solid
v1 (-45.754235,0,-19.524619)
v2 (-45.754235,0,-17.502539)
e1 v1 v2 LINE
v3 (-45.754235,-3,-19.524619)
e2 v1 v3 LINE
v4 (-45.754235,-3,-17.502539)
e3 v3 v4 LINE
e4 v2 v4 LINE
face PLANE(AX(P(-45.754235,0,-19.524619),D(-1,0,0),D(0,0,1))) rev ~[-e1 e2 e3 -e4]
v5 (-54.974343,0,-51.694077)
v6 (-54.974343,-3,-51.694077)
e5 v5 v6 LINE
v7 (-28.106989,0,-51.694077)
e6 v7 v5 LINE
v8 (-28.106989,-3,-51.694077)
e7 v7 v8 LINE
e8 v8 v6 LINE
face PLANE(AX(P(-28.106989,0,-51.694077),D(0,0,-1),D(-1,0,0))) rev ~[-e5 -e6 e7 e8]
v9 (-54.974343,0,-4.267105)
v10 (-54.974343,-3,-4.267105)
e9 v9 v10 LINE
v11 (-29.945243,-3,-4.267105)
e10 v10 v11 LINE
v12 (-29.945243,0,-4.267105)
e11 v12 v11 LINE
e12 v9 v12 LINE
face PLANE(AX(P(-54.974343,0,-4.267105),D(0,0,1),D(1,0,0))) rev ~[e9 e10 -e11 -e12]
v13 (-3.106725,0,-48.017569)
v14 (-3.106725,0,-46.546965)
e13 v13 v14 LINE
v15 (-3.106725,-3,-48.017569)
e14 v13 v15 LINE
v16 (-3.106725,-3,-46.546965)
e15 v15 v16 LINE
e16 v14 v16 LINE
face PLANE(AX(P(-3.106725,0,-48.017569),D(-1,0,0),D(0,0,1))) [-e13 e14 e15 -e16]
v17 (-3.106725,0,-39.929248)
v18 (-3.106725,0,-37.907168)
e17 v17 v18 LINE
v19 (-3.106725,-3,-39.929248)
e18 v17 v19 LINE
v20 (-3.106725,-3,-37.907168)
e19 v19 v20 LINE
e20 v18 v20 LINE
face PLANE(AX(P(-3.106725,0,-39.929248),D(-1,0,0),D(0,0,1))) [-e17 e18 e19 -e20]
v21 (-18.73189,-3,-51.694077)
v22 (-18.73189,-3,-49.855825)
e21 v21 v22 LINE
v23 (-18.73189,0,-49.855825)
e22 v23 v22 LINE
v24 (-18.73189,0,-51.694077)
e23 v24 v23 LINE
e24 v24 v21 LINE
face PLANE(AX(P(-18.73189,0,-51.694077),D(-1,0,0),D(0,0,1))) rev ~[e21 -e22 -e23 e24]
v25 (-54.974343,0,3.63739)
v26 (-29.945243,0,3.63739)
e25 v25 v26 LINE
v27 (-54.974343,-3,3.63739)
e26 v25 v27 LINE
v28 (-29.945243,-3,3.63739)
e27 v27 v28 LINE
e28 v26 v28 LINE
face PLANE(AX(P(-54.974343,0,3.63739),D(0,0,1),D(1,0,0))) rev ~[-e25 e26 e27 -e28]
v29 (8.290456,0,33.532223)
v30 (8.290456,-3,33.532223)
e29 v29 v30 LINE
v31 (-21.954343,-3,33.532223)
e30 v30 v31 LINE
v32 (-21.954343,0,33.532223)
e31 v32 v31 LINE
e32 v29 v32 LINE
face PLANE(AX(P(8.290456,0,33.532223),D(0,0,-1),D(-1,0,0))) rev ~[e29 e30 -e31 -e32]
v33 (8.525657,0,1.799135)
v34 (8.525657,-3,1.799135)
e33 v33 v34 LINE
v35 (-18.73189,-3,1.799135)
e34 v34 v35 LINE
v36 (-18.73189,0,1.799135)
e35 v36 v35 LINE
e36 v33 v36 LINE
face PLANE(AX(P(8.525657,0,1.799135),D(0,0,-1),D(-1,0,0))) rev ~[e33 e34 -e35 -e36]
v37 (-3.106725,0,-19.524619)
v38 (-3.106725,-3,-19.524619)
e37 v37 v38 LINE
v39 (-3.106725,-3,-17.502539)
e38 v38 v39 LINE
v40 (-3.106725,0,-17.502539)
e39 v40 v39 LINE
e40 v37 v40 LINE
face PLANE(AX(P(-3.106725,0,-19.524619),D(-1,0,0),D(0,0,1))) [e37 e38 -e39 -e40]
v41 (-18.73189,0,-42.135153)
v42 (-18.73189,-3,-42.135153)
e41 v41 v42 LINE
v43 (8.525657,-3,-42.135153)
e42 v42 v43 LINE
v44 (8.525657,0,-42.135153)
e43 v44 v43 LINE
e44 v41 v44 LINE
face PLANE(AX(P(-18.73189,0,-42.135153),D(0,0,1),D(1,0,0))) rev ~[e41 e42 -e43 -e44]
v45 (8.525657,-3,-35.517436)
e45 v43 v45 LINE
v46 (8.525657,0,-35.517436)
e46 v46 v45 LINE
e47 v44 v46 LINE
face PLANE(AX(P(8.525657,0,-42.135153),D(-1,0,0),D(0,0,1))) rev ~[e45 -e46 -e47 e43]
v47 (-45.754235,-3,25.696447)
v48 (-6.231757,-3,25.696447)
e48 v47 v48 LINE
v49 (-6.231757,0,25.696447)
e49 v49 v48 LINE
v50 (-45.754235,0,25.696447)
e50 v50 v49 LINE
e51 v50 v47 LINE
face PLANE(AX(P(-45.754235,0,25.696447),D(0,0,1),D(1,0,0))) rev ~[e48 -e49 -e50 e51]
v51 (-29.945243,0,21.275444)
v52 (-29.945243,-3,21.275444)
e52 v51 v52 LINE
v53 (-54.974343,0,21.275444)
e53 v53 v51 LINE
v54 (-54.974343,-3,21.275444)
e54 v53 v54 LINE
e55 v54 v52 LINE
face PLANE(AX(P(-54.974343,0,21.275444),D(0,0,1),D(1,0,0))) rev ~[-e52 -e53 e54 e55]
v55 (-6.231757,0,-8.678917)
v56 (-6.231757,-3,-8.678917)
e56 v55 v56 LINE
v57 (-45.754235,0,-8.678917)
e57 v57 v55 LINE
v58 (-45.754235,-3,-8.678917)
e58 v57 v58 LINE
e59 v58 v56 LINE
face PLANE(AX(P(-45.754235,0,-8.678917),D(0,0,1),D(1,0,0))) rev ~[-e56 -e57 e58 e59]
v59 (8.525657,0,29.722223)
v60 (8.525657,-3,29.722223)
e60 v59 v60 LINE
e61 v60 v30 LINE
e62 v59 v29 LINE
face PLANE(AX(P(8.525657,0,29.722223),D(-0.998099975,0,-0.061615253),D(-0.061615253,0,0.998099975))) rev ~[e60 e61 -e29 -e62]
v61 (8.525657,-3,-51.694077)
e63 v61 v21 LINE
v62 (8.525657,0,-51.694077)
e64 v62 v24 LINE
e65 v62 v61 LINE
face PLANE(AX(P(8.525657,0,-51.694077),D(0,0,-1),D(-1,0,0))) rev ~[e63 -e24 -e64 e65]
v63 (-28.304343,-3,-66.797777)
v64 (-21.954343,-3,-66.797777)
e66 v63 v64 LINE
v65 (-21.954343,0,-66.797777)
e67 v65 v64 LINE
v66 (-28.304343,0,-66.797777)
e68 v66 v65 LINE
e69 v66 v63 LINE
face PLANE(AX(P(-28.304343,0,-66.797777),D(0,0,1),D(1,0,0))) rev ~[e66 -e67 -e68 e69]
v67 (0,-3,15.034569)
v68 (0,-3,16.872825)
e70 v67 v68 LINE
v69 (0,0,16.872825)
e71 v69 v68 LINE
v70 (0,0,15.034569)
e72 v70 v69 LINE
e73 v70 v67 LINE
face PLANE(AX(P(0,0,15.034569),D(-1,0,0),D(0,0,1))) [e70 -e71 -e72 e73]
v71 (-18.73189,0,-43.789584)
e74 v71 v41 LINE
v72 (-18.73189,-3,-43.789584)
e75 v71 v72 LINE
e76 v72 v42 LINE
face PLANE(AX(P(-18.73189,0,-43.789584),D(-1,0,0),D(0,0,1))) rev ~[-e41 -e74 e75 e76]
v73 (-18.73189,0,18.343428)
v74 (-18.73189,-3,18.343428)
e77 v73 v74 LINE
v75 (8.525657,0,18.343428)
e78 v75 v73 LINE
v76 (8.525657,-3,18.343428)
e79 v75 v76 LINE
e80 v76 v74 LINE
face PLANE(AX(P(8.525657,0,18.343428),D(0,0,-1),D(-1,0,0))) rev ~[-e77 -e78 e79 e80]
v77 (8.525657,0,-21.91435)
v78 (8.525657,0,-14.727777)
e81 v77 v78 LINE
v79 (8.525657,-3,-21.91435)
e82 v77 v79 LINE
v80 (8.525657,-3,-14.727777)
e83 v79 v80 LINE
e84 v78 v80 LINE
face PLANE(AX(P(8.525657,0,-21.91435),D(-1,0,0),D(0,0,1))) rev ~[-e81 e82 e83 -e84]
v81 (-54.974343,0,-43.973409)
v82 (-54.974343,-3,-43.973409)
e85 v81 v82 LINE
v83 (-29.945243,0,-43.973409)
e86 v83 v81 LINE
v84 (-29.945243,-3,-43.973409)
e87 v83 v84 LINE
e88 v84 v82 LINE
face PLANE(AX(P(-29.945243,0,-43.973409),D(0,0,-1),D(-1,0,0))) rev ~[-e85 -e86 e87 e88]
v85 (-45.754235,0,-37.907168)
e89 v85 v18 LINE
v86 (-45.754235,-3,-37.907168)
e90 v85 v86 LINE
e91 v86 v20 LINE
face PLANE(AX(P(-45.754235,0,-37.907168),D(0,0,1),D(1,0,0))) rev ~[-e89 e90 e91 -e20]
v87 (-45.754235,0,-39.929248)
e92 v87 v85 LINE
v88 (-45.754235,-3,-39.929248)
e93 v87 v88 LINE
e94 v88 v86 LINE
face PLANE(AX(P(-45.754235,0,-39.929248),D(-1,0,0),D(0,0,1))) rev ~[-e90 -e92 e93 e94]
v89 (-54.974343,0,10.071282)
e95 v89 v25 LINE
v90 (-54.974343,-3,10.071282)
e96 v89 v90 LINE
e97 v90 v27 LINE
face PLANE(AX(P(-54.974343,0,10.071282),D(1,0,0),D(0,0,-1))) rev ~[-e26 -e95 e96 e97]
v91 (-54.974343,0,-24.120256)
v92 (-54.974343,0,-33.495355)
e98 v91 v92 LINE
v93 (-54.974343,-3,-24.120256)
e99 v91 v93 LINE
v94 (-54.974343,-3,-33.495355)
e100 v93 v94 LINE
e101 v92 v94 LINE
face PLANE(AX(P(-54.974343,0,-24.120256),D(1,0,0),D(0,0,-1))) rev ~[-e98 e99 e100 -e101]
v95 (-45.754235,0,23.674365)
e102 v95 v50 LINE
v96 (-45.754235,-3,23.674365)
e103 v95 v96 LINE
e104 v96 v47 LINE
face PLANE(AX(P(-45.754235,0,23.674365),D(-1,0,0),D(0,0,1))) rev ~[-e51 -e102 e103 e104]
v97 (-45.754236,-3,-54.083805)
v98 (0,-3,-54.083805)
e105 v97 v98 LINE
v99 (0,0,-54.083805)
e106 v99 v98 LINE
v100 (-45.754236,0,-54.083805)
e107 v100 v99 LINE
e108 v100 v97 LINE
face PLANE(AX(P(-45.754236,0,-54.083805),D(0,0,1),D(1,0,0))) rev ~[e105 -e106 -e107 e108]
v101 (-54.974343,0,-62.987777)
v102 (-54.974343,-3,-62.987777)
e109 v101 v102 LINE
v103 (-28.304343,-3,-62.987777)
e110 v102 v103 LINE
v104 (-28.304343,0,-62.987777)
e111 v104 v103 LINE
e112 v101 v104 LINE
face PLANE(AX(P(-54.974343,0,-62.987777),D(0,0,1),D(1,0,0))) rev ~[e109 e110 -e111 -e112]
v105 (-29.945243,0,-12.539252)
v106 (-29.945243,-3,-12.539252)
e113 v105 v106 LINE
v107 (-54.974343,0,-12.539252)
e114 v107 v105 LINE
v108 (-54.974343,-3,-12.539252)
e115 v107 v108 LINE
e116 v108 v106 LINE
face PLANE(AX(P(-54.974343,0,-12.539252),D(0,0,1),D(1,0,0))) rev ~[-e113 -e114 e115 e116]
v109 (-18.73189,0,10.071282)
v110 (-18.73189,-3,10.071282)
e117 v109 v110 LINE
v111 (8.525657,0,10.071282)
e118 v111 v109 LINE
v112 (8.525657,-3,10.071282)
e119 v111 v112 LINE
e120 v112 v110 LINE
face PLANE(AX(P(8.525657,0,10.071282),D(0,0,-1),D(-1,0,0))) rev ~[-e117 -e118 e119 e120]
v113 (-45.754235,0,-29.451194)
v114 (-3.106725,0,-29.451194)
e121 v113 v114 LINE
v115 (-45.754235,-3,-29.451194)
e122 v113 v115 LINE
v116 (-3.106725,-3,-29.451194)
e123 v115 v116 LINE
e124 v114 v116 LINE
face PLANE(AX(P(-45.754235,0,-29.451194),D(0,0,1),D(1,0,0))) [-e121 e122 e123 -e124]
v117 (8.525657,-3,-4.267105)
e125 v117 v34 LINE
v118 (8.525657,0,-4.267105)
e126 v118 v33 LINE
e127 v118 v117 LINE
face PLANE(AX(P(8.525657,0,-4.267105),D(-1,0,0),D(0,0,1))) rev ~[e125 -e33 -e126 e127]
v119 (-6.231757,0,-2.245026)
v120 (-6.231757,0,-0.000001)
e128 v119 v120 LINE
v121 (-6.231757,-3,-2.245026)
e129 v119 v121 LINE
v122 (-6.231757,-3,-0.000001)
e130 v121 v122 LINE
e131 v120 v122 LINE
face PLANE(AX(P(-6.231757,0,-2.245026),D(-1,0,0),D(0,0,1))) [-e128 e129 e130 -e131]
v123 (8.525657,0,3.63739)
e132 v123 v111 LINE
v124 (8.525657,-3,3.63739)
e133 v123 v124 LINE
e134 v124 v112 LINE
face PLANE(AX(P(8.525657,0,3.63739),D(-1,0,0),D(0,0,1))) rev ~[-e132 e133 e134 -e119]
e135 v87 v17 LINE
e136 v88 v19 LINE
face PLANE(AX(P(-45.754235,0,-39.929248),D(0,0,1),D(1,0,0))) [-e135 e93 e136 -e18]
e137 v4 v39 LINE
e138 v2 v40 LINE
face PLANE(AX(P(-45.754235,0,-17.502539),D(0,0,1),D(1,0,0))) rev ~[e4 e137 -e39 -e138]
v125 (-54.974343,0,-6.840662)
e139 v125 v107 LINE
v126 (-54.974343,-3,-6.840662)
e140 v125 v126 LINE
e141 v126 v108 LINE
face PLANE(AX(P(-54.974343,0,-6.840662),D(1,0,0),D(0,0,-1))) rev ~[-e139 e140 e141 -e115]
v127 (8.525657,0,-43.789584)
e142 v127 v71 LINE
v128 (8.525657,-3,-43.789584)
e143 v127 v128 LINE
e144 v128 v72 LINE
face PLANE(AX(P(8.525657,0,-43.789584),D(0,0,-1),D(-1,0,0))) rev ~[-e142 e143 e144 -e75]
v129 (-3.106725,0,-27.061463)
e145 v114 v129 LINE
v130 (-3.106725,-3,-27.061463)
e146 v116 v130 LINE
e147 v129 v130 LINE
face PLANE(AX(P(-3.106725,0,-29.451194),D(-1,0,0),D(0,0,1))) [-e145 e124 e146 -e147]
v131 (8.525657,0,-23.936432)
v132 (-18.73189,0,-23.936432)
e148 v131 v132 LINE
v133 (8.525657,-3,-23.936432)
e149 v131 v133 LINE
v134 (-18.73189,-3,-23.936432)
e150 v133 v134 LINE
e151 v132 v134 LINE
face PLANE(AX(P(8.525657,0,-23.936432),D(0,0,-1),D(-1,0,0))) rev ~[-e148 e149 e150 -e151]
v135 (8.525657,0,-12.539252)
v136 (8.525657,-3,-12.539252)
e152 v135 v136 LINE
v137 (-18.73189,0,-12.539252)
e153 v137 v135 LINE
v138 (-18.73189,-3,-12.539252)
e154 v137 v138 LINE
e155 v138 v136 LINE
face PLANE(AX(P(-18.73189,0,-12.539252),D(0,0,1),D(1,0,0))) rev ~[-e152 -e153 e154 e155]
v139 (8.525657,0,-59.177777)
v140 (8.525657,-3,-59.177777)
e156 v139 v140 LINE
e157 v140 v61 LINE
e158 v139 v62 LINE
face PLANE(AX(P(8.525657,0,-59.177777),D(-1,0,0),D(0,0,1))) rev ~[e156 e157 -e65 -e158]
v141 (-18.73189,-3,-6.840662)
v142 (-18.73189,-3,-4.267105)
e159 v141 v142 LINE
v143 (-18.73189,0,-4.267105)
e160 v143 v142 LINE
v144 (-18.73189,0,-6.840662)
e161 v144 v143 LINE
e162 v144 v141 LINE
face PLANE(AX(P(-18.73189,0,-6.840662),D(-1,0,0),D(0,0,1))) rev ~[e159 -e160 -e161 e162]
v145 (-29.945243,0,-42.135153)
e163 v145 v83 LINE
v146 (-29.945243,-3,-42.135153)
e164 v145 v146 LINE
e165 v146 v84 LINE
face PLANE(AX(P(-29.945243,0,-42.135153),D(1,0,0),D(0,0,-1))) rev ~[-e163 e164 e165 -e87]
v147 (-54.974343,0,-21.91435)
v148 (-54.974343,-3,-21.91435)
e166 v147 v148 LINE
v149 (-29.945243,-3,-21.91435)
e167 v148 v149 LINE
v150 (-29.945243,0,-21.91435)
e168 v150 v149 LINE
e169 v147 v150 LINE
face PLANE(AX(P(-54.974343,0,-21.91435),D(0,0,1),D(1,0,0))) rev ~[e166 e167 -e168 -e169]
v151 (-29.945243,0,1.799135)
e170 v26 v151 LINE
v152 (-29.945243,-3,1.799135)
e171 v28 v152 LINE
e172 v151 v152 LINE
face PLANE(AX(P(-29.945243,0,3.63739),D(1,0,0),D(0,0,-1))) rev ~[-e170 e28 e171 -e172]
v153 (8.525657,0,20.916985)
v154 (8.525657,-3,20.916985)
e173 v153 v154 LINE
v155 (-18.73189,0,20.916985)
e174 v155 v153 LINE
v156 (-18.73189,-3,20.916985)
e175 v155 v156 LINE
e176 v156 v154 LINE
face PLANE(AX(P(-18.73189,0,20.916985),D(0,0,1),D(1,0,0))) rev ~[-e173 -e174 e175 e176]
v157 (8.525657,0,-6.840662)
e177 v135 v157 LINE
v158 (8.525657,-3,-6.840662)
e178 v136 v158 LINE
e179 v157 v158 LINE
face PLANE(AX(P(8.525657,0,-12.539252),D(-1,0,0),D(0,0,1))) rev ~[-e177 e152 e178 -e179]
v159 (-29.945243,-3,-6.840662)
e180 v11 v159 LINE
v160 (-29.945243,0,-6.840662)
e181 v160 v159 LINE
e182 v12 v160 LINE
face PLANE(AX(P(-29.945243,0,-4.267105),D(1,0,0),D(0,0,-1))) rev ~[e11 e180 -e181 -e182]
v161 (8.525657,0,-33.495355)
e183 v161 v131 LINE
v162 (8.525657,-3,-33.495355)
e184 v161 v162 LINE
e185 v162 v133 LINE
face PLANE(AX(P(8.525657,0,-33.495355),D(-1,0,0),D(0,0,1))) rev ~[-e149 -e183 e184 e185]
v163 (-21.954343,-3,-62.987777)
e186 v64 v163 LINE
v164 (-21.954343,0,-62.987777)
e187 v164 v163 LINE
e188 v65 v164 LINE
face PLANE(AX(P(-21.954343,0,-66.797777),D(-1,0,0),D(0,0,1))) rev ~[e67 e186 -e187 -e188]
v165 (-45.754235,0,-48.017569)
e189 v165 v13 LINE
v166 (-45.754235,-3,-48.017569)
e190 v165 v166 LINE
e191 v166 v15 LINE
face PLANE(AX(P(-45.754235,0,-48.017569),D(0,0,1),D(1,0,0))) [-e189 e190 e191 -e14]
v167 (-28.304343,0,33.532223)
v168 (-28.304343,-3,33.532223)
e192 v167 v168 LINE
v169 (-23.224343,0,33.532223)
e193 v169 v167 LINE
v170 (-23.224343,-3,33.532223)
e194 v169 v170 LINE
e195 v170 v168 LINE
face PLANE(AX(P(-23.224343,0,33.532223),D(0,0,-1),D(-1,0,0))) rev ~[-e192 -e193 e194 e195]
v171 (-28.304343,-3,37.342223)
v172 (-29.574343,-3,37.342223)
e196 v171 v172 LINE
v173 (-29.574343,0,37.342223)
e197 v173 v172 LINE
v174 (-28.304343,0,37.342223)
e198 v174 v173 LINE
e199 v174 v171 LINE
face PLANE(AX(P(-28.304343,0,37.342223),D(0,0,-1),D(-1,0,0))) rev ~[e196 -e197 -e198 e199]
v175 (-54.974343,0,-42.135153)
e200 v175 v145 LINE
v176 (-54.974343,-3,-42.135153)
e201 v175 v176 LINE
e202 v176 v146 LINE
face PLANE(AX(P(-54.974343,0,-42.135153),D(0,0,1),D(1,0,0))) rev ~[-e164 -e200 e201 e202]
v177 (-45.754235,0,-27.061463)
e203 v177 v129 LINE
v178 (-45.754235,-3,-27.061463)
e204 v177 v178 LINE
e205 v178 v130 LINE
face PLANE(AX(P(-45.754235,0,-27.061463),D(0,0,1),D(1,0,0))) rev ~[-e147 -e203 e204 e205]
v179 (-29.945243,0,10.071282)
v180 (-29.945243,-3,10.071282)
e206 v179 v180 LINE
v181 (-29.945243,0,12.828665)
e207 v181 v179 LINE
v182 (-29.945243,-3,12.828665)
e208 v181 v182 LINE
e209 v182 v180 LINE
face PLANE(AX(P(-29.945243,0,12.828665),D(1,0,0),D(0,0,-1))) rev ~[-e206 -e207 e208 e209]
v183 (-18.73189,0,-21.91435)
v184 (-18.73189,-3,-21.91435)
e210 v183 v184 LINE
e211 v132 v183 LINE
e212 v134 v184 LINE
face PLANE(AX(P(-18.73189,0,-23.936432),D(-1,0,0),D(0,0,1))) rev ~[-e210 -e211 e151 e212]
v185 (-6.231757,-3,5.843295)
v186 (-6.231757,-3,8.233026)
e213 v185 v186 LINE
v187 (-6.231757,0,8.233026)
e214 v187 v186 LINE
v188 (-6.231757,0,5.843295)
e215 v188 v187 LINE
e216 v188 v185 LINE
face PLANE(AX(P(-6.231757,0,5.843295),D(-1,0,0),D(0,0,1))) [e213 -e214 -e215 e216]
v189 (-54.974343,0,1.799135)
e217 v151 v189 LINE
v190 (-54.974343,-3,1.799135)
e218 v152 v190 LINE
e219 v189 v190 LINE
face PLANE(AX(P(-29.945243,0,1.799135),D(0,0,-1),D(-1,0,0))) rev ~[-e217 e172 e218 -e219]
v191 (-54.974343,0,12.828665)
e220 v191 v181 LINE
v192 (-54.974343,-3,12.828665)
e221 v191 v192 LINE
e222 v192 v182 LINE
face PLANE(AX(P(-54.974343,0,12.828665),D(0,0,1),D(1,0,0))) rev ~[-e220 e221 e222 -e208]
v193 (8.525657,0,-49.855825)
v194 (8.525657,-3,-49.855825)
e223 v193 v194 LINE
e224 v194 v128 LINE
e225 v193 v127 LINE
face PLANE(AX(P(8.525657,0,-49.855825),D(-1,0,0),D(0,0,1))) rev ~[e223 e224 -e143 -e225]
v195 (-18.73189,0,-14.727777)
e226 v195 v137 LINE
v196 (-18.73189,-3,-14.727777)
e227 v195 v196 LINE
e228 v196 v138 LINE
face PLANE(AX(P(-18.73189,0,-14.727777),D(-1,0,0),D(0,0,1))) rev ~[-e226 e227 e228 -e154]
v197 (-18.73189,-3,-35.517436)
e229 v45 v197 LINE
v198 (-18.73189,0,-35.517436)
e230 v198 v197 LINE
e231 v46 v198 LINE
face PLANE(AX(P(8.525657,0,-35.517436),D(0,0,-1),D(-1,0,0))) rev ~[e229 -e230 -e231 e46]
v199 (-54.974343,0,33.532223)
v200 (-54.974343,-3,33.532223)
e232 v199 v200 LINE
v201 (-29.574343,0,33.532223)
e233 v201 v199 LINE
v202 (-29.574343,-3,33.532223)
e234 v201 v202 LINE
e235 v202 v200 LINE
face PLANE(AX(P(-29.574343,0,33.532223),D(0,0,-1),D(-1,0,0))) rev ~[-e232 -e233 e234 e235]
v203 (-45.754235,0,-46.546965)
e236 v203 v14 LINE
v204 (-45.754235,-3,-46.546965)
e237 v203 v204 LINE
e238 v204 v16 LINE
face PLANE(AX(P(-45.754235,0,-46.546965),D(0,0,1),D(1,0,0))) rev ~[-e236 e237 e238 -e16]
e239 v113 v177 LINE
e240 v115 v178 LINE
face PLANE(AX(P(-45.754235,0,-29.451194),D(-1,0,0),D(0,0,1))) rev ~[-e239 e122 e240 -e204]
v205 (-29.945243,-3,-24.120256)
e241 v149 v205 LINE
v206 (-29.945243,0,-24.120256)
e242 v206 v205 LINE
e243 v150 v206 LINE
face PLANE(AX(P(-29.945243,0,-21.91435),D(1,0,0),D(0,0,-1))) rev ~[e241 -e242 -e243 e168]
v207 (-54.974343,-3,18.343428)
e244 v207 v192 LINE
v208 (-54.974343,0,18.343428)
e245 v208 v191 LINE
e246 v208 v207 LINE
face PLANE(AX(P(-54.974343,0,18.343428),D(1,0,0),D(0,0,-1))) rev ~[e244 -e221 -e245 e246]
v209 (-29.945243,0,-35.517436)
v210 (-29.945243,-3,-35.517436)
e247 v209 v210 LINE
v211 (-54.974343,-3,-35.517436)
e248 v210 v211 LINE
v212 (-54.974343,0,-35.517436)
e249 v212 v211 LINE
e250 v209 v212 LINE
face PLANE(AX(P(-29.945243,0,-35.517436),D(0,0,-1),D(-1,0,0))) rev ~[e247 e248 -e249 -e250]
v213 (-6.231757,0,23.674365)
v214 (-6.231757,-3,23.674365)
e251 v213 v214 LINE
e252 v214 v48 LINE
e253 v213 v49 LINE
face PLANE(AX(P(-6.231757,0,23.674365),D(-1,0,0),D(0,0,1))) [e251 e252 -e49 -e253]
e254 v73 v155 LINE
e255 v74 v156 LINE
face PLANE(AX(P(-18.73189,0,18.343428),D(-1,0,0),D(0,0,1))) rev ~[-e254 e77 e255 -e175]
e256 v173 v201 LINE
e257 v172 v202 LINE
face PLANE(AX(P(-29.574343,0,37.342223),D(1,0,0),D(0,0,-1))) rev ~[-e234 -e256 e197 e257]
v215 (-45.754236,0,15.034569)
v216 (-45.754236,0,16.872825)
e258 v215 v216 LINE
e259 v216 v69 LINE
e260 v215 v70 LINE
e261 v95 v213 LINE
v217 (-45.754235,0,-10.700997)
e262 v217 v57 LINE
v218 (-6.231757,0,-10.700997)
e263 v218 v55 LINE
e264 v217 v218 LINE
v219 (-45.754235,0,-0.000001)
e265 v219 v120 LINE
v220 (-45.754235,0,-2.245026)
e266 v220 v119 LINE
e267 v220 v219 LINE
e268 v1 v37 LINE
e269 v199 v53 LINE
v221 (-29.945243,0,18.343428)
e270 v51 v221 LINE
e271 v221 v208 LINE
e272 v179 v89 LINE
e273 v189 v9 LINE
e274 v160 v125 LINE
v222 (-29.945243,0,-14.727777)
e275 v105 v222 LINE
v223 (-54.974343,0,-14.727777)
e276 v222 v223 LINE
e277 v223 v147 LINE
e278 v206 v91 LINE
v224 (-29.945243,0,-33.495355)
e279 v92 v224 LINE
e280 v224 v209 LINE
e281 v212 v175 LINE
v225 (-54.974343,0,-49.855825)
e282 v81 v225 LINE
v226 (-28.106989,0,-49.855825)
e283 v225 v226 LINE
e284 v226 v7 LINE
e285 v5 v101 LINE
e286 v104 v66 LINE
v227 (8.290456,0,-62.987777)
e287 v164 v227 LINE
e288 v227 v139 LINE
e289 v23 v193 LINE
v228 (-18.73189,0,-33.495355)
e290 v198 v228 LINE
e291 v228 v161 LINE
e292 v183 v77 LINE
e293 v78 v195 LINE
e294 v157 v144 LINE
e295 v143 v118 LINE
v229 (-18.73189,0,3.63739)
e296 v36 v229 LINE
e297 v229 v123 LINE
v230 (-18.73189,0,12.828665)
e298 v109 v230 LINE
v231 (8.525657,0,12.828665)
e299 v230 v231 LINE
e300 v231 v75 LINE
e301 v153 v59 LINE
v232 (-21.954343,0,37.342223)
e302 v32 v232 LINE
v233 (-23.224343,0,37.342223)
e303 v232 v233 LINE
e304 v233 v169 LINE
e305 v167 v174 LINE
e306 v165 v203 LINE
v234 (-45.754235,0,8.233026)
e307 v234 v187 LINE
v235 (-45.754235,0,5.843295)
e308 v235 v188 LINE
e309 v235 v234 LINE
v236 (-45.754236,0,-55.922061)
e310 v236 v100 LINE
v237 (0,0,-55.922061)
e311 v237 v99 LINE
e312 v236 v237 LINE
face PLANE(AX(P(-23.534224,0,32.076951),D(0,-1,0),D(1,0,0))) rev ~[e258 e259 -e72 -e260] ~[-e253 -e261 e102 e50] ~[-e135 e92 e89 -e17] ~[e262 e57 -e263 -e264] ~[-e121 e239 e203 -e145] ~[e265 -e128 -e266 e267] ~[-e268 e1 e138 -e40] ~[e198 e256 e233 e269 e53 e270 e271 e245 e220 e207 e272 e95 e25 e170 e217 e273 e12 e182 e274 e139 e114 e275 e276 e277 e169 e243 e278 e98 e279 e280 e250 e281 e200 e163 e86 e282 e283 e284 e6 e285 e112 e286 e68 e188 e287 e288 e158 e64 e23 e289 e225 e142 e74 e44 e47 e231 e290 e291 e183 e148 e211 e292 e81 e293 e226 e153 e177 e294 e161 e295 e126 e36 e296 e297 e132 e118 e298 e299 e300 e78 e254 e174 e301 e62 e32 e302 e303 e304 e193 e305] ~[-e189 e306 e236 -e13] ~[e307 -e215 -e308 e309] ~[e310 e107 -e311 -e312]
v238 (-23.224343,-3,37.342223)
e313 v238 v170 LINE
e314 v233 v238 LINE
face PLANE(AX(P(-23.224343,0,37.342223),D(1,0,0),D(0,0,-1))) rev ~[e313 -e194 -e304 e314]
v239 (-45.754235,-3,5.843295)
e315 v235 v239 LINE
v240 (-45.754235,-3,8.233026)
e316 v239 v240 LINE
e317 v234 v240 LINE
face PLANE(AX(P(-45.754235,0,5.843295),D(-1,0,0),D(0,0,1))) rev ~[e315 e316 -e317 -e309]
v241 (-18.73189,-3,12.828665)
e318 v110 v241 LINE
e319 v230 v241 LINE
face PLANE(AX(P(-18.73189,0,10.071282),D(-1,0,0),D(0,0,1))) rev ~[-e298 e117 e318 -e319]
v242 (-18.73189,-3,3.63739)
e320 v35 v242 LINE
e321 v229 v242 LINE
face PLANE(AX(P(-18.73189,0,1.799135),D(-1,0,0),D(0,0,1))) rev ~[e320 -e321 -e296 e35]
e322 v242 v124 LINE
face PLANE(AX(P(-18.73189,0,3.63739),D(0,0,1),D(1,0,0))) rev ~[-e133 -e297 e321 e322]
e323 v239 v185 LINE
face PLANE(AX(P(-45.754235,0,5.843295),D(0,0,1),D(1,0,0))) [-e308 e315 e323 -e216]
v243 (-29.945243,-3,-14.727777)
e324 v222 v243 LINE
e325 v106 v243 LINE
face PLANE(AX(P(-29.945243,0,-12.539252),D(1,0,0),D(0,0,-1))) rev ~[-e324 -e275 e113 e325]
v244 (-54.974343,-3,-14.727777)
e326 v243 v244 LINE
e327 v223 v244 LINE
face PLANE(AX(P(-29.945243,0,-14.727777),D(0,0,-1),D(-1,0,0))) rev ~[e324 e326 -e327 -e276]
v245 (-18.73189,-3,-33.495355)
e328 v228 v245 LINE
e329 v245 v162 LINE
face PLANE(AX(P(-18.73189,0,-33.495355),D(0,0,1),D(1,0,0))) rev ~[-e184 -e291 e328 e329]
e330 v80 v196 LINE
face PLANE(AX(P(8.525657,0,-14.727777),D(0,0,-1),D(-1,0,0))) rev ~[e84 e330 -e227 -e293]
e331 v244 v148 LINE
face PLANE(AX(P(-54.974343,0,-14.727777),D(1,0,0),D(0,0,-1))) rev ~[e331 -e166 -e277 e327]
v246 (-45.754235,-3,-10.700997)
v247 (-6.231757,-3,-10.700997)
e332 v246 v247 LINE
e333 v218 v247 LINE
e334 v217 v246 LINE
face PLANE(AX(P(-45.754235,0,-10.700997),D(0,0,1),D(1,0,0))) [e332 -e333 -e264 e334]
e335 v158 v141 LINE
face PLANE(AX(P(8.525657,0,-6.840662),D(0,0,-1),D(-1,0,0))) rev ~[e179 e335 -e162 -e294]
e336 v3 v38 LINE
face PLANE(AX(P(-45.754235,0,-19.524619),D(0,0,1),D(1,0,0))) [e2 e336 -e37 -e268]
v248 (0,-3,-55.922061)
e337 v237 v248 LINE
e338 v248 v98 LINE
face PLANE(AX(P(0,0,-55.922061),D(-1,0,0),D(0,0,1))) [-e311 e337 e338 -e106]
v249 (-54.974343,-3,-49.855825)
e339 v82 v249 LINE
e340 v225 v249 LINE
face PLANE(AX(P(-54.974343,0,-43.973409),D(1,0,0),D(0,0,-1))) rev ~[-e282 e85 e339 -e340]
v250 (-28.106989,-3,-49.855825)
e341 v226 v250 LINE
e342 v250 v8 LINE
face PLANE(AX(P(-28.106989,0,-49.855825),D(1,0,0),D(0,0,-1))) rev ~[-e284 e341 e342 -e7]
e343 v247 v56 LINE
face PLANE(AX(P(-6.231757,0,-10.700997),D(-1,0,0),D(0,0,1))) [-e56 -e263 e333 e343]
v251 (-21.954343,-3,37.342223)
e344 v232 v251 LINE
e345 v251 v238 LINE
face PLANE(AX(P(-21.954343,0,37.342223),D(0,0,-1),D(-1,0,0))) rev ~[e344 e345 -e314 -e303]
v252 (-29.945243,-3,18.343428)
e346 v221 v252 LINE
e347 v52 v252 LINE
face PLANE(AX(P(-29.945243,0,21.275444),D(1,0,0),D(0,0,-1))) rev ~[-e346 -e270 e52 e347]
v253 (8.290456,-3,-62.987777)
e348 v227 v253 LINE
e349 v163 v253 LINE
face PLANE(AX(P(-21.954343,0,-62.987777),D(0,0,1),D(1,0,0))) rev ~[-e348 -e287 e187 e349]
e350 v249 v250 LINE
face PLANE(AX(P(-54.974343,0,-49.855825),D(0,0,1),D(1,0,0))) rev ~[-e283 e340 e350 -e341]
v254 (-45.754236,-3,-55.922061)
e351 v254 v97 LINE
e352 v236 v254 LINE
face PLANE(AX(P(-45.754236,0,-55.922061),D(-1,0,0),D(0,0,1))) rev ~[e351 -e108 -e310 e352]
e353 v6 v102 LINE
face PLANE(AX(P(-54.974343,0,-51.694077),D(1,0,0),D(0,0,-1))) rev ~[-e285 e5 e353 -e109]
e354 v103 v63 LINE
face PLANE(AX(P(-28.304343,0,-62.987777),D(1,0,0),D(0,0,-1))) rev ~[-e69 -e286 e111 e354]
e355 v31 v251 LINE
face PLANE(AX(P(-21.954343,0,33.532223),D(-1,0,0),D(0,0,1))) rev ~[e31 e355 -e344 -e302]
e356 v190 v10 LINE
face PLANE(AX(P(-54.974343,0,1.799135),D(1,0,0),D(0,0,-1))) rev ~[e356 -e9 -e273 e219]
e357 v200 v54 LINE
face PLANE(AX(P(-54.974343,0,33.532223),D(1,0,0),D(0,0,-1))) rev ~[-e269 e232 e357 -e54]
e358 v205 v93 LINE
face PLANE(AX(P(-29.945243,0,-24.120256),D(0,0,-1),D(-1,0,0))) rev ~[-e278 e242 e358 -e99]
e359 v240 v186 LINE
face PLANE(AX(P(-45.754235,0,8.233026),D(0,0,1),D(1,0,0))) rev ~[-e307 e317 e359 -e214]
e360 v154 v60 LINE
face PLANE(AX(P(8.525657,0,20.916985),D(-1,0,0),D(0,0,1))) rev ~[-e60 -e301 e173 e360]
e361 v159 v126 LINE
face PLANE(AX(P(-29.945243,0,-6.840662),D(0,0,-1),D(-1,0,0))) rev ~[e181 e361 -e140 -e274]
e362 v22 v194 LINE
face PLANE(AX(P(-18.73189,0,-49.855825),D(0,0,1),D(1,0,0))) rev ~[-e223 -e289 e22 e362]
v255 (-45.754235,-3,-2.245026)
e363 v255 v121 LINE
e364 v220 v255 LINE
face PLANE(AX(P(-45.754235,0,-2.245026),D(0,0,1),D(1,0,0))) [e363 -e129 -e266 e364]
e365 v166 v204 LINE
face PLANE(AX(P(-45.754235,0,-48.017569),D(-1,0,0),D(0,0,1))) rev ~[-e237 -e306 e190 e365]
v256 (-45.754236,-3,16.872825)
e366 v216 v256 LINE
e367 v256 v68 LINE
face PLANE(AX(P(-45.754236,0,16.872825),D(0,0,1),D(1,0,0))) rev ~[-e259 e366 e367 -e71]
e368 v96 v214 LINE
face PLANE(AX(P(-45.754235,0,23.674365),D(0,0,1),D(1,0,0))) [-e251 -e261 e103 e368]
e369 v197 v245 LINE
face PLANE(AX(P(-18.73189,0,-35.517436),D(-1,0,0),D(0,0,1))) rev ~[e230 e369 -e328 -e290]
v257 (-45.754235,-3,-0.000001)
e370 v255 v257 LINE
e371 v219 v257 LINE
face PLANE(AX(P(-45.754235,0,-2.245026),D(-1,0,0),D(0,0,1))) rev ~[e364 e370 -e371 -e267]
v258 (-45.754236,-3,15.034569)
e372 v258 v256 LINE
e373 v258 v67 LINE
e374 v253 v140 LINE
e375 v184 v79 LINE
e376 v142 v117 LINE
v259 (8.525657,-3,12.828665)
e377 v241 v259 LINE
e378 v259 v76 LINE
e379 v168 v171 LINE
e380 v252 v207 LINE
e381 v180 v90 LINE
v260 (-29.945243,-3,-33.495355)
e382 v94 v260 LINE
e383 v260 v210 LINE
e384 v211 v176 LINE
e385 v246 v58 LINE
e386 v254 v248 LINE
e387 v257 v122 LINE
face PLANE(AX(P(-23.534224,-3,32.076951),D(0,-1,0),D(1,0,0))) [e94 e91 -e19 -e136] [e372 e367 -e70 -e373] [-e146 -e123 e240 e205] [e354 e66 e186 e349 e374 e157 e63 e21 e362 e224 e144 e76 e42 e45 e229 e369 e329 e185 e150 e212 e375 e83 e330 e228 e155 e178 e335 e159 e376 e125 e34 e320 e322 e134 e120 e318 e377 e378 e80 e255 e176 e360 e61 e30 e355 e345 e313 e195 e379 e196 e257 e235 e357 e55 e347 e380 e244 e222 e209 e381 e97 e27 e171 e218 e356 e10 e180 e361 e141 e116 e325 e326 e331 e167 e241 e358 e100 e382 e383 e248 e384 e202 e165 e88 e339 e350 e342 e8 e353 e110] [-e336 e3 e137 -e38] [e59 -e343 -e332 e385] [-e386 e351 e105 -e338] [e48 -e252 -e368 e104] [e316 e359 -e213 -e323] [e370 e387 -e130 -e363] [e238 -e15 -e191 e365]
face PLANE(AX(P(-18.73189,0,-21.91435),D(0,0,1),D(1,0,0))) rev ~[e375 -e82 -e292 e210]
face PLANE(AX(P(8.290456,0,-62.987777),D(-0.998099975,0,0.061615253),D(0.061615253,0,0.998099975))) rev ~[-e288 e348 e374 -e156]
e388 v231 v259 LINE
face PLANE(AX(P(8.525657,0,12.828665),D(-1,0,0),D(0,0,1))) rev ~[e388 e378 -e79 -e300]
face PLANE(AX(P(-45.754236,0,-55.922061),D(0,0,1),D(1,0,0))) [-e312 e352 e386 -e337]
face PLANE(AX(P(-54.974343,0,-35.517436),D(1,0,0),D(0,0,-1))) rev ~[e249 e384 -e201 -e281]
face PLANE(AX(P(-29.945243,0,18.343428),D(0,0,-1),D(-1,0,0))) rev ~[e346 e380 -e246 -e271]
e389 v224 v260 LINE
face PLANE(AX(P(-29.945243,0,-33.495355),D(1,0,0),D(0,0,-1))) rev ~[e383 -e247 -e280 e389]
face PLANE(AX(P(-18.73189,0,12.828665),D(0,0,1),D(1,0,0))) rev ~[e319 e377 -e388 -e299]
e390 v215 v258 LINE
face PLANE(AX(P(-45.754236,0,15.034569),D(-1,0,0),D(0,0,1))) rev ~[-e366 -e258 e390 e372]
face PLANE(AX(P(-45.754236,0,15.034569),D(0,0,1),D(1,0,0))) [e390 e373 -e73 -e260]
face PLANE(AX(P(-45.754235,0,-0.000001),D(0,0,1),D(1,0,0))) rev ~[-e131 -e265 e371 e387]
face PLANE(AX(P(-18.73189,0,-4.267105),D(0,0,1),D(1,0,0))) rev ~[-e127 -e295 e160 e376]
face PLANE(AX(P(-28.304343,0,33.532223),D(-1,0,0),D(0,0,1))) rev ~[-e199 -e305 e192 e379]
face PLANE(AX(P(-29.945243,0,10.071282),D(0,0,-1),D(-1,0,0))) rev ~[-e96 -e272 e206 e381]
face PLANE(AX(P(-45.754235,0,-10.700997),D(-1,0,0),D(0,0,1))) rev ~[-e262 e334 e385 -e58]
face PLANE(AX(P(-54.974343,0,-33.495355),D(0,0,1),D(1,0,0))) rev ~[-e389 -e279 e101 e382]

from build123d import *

# Parameters (mm, degrees)
F0_W     = 42.64751
F0_H     = 1.470603
F0_H_2   = 2.02208
F0_H_3   = 2.389731
F0_W_2   = 45.754235
F0_H_4   = 1.838255
F0_W_3   = 39.522478
F0_H_5   = 2.245025
F0_H_6   = 2.022082
F0_H_7   = 1.838256
F1_DEPTH = 3


with BuildPart() as f1:
    # F0 (on Front) → F1 (new body)
    with BuildSketch(Plane.XZ):
        Polygon((-54.974343, 33.532223), (-54.974343, 29.722223), (8.525657, 29.722223), (8.290456, 33.532223), (-21.954343, 33.532223), (-21.954343, 37.342223), (-23.224343, 37.342223), (-23.224343, 33.532223), (-28.304343, 33.532223), (-28.304343, 37.342223), (-29.574343, 37.342223), (-29.574343, 33.532223), align=None)
        Polygon((8.525657, 29.722223), (-54.974343, 29.722223), (-54.974343, 21.275444), (-29.945243, 21.275444), (-29.945243, 18.343428), (-54.974343, 18.343428), (-54.974343, 12.828665), (-29.945243, 12.828665), (-29.945243, 10.071282), (-54.974343, 10.071282), (-54.974343, 3.63739), (-29.945243, 3.63739), (-29.945243, 1.799135), (-54.974343, 1.799135), (-54.974343, -4.267105), (-29.945243, -4.267105), (-29.945243, -6.840662), (-54.974343, -6.840662), (-54.974343, -12.539252), (-29.945243, -12.539252), (-29.945243, -14.727777), (-54.974343, -14.727777), (-54.974343, -21.91435), (-29.945243, -21.91435), (-29.945243, -24.120256), (-54.974343, -24.120256), (-54.974343, -33.495355), (-29.945243, -33.495355), (-29.945243, -35.517436), (-54.974343, -35.517436), (-54.974343, -42.135153), (-29.945243, -42.135153), (-29.945243, -43.973409), (-54.974343, -43.973409), (-54.974343, -49.855825), (-28.106989, -49.855825), (-28.106989, -51.694077), (-54.974343, -51.694077), (-54.974343, -59.177777), (8.525657, -59.177777), (8.525657, -51.694077), (-18.73189, -51.694077), (-18.73189, -49.855825), (8.525657, -49.855825), (8.525657, -43.789584), (-18.73189, -43.789584), (-18.73189, -42.135153), (8.525657, -42.135153), (8.525657, -35.517436), (-18.73189, -35.517436), (-18.73189, -33.495355), (8.525657, -33.495355), (8.525657, -23.936432), (-18.73189, -23.936432), (-18.73189, -21.91435), (8.525657, -21.91435), (8.525657, -14.727777), (-18.73189, -14.727777), (-18.73189, -12.539252), (8.525657, -12.539252), (8.525657, -6.840662), (-18.73189, -6.840662), (-18.73189, -4.267105), (8.525657, -4.267105), (8.525657, 1.799135), (-18.73189, 1.799135), (-18.73189, 3.63739), (8.525657, 3.63739), (8.525657, 10.071282), (-18.73189, 10.071282), (-18.73189, 12.828665), (8.525657, 12.828665), (8.525657, 18.343428), (-18.73189, 18.343428), (-18.73189, 20.916985), (8.525657, 20.916985), align=None)
        with Locations((-24.43048, -47.282267)):
            Rectangle(F0_W, F0_H, mode=Mode.SUBTRACT)
        with Locations((-24.43048, -38.918208)):
            Rectangle(F0_W, F0_H_2, mode=Mode.SUBTRACT)
        with Locations((-24.43048, -28.256329)):
            Rectangle(F0_W, F0_H_3, mode=Mode.SUBTRACT)
        with Locations((-24.43048, -18.513579)):
            Rectangle(F0_W, F0_H_2, mode=Mode.SUBTRACT)
        with Locations((-22.877118, -55.002933)):
            Rectangle(F0_W_2, F0_H_4, mode=Mode.SUBTRACT)
        with Locations((-25.992996, -9.689957)):
            Rectangle(F0_W_3, F0_H_2, mode=Mode.SUBTRACT)
        with Locations((-25.992996, -1.122513)):
            Rectangle(F0_W_3, F0_H_5, mode=Mode.SUBTRACT)
        with Locations((-25.992996, 7.038161)):
            Rectangle(F0_W_3, F0_H_3, mode=Mode.SUBTRACT)
        with Locations((-25.992996, 24.685406)):
            Rectangle(F0_W_3, F0_H_6, mode=Mode.SUBTRACT)
        with Locations((-22.877118, 15.953697)):
            Rectangle(F0_W_2, F0_H_7, mode=Mode.SUBTRACT)
        Polygon((8.525657, -59.177777), (-54.974343, -59.177777), (-54.974343, -62.987777), (-28.304343, -62.987777), (-28.304343, -66.797777), (-21.954343, -66.797777), (-21.954343, -62.987777), (8.290456, -62.987777), align=None)
    extrude(amount=F1_DEPTH)


solid = f1.part
